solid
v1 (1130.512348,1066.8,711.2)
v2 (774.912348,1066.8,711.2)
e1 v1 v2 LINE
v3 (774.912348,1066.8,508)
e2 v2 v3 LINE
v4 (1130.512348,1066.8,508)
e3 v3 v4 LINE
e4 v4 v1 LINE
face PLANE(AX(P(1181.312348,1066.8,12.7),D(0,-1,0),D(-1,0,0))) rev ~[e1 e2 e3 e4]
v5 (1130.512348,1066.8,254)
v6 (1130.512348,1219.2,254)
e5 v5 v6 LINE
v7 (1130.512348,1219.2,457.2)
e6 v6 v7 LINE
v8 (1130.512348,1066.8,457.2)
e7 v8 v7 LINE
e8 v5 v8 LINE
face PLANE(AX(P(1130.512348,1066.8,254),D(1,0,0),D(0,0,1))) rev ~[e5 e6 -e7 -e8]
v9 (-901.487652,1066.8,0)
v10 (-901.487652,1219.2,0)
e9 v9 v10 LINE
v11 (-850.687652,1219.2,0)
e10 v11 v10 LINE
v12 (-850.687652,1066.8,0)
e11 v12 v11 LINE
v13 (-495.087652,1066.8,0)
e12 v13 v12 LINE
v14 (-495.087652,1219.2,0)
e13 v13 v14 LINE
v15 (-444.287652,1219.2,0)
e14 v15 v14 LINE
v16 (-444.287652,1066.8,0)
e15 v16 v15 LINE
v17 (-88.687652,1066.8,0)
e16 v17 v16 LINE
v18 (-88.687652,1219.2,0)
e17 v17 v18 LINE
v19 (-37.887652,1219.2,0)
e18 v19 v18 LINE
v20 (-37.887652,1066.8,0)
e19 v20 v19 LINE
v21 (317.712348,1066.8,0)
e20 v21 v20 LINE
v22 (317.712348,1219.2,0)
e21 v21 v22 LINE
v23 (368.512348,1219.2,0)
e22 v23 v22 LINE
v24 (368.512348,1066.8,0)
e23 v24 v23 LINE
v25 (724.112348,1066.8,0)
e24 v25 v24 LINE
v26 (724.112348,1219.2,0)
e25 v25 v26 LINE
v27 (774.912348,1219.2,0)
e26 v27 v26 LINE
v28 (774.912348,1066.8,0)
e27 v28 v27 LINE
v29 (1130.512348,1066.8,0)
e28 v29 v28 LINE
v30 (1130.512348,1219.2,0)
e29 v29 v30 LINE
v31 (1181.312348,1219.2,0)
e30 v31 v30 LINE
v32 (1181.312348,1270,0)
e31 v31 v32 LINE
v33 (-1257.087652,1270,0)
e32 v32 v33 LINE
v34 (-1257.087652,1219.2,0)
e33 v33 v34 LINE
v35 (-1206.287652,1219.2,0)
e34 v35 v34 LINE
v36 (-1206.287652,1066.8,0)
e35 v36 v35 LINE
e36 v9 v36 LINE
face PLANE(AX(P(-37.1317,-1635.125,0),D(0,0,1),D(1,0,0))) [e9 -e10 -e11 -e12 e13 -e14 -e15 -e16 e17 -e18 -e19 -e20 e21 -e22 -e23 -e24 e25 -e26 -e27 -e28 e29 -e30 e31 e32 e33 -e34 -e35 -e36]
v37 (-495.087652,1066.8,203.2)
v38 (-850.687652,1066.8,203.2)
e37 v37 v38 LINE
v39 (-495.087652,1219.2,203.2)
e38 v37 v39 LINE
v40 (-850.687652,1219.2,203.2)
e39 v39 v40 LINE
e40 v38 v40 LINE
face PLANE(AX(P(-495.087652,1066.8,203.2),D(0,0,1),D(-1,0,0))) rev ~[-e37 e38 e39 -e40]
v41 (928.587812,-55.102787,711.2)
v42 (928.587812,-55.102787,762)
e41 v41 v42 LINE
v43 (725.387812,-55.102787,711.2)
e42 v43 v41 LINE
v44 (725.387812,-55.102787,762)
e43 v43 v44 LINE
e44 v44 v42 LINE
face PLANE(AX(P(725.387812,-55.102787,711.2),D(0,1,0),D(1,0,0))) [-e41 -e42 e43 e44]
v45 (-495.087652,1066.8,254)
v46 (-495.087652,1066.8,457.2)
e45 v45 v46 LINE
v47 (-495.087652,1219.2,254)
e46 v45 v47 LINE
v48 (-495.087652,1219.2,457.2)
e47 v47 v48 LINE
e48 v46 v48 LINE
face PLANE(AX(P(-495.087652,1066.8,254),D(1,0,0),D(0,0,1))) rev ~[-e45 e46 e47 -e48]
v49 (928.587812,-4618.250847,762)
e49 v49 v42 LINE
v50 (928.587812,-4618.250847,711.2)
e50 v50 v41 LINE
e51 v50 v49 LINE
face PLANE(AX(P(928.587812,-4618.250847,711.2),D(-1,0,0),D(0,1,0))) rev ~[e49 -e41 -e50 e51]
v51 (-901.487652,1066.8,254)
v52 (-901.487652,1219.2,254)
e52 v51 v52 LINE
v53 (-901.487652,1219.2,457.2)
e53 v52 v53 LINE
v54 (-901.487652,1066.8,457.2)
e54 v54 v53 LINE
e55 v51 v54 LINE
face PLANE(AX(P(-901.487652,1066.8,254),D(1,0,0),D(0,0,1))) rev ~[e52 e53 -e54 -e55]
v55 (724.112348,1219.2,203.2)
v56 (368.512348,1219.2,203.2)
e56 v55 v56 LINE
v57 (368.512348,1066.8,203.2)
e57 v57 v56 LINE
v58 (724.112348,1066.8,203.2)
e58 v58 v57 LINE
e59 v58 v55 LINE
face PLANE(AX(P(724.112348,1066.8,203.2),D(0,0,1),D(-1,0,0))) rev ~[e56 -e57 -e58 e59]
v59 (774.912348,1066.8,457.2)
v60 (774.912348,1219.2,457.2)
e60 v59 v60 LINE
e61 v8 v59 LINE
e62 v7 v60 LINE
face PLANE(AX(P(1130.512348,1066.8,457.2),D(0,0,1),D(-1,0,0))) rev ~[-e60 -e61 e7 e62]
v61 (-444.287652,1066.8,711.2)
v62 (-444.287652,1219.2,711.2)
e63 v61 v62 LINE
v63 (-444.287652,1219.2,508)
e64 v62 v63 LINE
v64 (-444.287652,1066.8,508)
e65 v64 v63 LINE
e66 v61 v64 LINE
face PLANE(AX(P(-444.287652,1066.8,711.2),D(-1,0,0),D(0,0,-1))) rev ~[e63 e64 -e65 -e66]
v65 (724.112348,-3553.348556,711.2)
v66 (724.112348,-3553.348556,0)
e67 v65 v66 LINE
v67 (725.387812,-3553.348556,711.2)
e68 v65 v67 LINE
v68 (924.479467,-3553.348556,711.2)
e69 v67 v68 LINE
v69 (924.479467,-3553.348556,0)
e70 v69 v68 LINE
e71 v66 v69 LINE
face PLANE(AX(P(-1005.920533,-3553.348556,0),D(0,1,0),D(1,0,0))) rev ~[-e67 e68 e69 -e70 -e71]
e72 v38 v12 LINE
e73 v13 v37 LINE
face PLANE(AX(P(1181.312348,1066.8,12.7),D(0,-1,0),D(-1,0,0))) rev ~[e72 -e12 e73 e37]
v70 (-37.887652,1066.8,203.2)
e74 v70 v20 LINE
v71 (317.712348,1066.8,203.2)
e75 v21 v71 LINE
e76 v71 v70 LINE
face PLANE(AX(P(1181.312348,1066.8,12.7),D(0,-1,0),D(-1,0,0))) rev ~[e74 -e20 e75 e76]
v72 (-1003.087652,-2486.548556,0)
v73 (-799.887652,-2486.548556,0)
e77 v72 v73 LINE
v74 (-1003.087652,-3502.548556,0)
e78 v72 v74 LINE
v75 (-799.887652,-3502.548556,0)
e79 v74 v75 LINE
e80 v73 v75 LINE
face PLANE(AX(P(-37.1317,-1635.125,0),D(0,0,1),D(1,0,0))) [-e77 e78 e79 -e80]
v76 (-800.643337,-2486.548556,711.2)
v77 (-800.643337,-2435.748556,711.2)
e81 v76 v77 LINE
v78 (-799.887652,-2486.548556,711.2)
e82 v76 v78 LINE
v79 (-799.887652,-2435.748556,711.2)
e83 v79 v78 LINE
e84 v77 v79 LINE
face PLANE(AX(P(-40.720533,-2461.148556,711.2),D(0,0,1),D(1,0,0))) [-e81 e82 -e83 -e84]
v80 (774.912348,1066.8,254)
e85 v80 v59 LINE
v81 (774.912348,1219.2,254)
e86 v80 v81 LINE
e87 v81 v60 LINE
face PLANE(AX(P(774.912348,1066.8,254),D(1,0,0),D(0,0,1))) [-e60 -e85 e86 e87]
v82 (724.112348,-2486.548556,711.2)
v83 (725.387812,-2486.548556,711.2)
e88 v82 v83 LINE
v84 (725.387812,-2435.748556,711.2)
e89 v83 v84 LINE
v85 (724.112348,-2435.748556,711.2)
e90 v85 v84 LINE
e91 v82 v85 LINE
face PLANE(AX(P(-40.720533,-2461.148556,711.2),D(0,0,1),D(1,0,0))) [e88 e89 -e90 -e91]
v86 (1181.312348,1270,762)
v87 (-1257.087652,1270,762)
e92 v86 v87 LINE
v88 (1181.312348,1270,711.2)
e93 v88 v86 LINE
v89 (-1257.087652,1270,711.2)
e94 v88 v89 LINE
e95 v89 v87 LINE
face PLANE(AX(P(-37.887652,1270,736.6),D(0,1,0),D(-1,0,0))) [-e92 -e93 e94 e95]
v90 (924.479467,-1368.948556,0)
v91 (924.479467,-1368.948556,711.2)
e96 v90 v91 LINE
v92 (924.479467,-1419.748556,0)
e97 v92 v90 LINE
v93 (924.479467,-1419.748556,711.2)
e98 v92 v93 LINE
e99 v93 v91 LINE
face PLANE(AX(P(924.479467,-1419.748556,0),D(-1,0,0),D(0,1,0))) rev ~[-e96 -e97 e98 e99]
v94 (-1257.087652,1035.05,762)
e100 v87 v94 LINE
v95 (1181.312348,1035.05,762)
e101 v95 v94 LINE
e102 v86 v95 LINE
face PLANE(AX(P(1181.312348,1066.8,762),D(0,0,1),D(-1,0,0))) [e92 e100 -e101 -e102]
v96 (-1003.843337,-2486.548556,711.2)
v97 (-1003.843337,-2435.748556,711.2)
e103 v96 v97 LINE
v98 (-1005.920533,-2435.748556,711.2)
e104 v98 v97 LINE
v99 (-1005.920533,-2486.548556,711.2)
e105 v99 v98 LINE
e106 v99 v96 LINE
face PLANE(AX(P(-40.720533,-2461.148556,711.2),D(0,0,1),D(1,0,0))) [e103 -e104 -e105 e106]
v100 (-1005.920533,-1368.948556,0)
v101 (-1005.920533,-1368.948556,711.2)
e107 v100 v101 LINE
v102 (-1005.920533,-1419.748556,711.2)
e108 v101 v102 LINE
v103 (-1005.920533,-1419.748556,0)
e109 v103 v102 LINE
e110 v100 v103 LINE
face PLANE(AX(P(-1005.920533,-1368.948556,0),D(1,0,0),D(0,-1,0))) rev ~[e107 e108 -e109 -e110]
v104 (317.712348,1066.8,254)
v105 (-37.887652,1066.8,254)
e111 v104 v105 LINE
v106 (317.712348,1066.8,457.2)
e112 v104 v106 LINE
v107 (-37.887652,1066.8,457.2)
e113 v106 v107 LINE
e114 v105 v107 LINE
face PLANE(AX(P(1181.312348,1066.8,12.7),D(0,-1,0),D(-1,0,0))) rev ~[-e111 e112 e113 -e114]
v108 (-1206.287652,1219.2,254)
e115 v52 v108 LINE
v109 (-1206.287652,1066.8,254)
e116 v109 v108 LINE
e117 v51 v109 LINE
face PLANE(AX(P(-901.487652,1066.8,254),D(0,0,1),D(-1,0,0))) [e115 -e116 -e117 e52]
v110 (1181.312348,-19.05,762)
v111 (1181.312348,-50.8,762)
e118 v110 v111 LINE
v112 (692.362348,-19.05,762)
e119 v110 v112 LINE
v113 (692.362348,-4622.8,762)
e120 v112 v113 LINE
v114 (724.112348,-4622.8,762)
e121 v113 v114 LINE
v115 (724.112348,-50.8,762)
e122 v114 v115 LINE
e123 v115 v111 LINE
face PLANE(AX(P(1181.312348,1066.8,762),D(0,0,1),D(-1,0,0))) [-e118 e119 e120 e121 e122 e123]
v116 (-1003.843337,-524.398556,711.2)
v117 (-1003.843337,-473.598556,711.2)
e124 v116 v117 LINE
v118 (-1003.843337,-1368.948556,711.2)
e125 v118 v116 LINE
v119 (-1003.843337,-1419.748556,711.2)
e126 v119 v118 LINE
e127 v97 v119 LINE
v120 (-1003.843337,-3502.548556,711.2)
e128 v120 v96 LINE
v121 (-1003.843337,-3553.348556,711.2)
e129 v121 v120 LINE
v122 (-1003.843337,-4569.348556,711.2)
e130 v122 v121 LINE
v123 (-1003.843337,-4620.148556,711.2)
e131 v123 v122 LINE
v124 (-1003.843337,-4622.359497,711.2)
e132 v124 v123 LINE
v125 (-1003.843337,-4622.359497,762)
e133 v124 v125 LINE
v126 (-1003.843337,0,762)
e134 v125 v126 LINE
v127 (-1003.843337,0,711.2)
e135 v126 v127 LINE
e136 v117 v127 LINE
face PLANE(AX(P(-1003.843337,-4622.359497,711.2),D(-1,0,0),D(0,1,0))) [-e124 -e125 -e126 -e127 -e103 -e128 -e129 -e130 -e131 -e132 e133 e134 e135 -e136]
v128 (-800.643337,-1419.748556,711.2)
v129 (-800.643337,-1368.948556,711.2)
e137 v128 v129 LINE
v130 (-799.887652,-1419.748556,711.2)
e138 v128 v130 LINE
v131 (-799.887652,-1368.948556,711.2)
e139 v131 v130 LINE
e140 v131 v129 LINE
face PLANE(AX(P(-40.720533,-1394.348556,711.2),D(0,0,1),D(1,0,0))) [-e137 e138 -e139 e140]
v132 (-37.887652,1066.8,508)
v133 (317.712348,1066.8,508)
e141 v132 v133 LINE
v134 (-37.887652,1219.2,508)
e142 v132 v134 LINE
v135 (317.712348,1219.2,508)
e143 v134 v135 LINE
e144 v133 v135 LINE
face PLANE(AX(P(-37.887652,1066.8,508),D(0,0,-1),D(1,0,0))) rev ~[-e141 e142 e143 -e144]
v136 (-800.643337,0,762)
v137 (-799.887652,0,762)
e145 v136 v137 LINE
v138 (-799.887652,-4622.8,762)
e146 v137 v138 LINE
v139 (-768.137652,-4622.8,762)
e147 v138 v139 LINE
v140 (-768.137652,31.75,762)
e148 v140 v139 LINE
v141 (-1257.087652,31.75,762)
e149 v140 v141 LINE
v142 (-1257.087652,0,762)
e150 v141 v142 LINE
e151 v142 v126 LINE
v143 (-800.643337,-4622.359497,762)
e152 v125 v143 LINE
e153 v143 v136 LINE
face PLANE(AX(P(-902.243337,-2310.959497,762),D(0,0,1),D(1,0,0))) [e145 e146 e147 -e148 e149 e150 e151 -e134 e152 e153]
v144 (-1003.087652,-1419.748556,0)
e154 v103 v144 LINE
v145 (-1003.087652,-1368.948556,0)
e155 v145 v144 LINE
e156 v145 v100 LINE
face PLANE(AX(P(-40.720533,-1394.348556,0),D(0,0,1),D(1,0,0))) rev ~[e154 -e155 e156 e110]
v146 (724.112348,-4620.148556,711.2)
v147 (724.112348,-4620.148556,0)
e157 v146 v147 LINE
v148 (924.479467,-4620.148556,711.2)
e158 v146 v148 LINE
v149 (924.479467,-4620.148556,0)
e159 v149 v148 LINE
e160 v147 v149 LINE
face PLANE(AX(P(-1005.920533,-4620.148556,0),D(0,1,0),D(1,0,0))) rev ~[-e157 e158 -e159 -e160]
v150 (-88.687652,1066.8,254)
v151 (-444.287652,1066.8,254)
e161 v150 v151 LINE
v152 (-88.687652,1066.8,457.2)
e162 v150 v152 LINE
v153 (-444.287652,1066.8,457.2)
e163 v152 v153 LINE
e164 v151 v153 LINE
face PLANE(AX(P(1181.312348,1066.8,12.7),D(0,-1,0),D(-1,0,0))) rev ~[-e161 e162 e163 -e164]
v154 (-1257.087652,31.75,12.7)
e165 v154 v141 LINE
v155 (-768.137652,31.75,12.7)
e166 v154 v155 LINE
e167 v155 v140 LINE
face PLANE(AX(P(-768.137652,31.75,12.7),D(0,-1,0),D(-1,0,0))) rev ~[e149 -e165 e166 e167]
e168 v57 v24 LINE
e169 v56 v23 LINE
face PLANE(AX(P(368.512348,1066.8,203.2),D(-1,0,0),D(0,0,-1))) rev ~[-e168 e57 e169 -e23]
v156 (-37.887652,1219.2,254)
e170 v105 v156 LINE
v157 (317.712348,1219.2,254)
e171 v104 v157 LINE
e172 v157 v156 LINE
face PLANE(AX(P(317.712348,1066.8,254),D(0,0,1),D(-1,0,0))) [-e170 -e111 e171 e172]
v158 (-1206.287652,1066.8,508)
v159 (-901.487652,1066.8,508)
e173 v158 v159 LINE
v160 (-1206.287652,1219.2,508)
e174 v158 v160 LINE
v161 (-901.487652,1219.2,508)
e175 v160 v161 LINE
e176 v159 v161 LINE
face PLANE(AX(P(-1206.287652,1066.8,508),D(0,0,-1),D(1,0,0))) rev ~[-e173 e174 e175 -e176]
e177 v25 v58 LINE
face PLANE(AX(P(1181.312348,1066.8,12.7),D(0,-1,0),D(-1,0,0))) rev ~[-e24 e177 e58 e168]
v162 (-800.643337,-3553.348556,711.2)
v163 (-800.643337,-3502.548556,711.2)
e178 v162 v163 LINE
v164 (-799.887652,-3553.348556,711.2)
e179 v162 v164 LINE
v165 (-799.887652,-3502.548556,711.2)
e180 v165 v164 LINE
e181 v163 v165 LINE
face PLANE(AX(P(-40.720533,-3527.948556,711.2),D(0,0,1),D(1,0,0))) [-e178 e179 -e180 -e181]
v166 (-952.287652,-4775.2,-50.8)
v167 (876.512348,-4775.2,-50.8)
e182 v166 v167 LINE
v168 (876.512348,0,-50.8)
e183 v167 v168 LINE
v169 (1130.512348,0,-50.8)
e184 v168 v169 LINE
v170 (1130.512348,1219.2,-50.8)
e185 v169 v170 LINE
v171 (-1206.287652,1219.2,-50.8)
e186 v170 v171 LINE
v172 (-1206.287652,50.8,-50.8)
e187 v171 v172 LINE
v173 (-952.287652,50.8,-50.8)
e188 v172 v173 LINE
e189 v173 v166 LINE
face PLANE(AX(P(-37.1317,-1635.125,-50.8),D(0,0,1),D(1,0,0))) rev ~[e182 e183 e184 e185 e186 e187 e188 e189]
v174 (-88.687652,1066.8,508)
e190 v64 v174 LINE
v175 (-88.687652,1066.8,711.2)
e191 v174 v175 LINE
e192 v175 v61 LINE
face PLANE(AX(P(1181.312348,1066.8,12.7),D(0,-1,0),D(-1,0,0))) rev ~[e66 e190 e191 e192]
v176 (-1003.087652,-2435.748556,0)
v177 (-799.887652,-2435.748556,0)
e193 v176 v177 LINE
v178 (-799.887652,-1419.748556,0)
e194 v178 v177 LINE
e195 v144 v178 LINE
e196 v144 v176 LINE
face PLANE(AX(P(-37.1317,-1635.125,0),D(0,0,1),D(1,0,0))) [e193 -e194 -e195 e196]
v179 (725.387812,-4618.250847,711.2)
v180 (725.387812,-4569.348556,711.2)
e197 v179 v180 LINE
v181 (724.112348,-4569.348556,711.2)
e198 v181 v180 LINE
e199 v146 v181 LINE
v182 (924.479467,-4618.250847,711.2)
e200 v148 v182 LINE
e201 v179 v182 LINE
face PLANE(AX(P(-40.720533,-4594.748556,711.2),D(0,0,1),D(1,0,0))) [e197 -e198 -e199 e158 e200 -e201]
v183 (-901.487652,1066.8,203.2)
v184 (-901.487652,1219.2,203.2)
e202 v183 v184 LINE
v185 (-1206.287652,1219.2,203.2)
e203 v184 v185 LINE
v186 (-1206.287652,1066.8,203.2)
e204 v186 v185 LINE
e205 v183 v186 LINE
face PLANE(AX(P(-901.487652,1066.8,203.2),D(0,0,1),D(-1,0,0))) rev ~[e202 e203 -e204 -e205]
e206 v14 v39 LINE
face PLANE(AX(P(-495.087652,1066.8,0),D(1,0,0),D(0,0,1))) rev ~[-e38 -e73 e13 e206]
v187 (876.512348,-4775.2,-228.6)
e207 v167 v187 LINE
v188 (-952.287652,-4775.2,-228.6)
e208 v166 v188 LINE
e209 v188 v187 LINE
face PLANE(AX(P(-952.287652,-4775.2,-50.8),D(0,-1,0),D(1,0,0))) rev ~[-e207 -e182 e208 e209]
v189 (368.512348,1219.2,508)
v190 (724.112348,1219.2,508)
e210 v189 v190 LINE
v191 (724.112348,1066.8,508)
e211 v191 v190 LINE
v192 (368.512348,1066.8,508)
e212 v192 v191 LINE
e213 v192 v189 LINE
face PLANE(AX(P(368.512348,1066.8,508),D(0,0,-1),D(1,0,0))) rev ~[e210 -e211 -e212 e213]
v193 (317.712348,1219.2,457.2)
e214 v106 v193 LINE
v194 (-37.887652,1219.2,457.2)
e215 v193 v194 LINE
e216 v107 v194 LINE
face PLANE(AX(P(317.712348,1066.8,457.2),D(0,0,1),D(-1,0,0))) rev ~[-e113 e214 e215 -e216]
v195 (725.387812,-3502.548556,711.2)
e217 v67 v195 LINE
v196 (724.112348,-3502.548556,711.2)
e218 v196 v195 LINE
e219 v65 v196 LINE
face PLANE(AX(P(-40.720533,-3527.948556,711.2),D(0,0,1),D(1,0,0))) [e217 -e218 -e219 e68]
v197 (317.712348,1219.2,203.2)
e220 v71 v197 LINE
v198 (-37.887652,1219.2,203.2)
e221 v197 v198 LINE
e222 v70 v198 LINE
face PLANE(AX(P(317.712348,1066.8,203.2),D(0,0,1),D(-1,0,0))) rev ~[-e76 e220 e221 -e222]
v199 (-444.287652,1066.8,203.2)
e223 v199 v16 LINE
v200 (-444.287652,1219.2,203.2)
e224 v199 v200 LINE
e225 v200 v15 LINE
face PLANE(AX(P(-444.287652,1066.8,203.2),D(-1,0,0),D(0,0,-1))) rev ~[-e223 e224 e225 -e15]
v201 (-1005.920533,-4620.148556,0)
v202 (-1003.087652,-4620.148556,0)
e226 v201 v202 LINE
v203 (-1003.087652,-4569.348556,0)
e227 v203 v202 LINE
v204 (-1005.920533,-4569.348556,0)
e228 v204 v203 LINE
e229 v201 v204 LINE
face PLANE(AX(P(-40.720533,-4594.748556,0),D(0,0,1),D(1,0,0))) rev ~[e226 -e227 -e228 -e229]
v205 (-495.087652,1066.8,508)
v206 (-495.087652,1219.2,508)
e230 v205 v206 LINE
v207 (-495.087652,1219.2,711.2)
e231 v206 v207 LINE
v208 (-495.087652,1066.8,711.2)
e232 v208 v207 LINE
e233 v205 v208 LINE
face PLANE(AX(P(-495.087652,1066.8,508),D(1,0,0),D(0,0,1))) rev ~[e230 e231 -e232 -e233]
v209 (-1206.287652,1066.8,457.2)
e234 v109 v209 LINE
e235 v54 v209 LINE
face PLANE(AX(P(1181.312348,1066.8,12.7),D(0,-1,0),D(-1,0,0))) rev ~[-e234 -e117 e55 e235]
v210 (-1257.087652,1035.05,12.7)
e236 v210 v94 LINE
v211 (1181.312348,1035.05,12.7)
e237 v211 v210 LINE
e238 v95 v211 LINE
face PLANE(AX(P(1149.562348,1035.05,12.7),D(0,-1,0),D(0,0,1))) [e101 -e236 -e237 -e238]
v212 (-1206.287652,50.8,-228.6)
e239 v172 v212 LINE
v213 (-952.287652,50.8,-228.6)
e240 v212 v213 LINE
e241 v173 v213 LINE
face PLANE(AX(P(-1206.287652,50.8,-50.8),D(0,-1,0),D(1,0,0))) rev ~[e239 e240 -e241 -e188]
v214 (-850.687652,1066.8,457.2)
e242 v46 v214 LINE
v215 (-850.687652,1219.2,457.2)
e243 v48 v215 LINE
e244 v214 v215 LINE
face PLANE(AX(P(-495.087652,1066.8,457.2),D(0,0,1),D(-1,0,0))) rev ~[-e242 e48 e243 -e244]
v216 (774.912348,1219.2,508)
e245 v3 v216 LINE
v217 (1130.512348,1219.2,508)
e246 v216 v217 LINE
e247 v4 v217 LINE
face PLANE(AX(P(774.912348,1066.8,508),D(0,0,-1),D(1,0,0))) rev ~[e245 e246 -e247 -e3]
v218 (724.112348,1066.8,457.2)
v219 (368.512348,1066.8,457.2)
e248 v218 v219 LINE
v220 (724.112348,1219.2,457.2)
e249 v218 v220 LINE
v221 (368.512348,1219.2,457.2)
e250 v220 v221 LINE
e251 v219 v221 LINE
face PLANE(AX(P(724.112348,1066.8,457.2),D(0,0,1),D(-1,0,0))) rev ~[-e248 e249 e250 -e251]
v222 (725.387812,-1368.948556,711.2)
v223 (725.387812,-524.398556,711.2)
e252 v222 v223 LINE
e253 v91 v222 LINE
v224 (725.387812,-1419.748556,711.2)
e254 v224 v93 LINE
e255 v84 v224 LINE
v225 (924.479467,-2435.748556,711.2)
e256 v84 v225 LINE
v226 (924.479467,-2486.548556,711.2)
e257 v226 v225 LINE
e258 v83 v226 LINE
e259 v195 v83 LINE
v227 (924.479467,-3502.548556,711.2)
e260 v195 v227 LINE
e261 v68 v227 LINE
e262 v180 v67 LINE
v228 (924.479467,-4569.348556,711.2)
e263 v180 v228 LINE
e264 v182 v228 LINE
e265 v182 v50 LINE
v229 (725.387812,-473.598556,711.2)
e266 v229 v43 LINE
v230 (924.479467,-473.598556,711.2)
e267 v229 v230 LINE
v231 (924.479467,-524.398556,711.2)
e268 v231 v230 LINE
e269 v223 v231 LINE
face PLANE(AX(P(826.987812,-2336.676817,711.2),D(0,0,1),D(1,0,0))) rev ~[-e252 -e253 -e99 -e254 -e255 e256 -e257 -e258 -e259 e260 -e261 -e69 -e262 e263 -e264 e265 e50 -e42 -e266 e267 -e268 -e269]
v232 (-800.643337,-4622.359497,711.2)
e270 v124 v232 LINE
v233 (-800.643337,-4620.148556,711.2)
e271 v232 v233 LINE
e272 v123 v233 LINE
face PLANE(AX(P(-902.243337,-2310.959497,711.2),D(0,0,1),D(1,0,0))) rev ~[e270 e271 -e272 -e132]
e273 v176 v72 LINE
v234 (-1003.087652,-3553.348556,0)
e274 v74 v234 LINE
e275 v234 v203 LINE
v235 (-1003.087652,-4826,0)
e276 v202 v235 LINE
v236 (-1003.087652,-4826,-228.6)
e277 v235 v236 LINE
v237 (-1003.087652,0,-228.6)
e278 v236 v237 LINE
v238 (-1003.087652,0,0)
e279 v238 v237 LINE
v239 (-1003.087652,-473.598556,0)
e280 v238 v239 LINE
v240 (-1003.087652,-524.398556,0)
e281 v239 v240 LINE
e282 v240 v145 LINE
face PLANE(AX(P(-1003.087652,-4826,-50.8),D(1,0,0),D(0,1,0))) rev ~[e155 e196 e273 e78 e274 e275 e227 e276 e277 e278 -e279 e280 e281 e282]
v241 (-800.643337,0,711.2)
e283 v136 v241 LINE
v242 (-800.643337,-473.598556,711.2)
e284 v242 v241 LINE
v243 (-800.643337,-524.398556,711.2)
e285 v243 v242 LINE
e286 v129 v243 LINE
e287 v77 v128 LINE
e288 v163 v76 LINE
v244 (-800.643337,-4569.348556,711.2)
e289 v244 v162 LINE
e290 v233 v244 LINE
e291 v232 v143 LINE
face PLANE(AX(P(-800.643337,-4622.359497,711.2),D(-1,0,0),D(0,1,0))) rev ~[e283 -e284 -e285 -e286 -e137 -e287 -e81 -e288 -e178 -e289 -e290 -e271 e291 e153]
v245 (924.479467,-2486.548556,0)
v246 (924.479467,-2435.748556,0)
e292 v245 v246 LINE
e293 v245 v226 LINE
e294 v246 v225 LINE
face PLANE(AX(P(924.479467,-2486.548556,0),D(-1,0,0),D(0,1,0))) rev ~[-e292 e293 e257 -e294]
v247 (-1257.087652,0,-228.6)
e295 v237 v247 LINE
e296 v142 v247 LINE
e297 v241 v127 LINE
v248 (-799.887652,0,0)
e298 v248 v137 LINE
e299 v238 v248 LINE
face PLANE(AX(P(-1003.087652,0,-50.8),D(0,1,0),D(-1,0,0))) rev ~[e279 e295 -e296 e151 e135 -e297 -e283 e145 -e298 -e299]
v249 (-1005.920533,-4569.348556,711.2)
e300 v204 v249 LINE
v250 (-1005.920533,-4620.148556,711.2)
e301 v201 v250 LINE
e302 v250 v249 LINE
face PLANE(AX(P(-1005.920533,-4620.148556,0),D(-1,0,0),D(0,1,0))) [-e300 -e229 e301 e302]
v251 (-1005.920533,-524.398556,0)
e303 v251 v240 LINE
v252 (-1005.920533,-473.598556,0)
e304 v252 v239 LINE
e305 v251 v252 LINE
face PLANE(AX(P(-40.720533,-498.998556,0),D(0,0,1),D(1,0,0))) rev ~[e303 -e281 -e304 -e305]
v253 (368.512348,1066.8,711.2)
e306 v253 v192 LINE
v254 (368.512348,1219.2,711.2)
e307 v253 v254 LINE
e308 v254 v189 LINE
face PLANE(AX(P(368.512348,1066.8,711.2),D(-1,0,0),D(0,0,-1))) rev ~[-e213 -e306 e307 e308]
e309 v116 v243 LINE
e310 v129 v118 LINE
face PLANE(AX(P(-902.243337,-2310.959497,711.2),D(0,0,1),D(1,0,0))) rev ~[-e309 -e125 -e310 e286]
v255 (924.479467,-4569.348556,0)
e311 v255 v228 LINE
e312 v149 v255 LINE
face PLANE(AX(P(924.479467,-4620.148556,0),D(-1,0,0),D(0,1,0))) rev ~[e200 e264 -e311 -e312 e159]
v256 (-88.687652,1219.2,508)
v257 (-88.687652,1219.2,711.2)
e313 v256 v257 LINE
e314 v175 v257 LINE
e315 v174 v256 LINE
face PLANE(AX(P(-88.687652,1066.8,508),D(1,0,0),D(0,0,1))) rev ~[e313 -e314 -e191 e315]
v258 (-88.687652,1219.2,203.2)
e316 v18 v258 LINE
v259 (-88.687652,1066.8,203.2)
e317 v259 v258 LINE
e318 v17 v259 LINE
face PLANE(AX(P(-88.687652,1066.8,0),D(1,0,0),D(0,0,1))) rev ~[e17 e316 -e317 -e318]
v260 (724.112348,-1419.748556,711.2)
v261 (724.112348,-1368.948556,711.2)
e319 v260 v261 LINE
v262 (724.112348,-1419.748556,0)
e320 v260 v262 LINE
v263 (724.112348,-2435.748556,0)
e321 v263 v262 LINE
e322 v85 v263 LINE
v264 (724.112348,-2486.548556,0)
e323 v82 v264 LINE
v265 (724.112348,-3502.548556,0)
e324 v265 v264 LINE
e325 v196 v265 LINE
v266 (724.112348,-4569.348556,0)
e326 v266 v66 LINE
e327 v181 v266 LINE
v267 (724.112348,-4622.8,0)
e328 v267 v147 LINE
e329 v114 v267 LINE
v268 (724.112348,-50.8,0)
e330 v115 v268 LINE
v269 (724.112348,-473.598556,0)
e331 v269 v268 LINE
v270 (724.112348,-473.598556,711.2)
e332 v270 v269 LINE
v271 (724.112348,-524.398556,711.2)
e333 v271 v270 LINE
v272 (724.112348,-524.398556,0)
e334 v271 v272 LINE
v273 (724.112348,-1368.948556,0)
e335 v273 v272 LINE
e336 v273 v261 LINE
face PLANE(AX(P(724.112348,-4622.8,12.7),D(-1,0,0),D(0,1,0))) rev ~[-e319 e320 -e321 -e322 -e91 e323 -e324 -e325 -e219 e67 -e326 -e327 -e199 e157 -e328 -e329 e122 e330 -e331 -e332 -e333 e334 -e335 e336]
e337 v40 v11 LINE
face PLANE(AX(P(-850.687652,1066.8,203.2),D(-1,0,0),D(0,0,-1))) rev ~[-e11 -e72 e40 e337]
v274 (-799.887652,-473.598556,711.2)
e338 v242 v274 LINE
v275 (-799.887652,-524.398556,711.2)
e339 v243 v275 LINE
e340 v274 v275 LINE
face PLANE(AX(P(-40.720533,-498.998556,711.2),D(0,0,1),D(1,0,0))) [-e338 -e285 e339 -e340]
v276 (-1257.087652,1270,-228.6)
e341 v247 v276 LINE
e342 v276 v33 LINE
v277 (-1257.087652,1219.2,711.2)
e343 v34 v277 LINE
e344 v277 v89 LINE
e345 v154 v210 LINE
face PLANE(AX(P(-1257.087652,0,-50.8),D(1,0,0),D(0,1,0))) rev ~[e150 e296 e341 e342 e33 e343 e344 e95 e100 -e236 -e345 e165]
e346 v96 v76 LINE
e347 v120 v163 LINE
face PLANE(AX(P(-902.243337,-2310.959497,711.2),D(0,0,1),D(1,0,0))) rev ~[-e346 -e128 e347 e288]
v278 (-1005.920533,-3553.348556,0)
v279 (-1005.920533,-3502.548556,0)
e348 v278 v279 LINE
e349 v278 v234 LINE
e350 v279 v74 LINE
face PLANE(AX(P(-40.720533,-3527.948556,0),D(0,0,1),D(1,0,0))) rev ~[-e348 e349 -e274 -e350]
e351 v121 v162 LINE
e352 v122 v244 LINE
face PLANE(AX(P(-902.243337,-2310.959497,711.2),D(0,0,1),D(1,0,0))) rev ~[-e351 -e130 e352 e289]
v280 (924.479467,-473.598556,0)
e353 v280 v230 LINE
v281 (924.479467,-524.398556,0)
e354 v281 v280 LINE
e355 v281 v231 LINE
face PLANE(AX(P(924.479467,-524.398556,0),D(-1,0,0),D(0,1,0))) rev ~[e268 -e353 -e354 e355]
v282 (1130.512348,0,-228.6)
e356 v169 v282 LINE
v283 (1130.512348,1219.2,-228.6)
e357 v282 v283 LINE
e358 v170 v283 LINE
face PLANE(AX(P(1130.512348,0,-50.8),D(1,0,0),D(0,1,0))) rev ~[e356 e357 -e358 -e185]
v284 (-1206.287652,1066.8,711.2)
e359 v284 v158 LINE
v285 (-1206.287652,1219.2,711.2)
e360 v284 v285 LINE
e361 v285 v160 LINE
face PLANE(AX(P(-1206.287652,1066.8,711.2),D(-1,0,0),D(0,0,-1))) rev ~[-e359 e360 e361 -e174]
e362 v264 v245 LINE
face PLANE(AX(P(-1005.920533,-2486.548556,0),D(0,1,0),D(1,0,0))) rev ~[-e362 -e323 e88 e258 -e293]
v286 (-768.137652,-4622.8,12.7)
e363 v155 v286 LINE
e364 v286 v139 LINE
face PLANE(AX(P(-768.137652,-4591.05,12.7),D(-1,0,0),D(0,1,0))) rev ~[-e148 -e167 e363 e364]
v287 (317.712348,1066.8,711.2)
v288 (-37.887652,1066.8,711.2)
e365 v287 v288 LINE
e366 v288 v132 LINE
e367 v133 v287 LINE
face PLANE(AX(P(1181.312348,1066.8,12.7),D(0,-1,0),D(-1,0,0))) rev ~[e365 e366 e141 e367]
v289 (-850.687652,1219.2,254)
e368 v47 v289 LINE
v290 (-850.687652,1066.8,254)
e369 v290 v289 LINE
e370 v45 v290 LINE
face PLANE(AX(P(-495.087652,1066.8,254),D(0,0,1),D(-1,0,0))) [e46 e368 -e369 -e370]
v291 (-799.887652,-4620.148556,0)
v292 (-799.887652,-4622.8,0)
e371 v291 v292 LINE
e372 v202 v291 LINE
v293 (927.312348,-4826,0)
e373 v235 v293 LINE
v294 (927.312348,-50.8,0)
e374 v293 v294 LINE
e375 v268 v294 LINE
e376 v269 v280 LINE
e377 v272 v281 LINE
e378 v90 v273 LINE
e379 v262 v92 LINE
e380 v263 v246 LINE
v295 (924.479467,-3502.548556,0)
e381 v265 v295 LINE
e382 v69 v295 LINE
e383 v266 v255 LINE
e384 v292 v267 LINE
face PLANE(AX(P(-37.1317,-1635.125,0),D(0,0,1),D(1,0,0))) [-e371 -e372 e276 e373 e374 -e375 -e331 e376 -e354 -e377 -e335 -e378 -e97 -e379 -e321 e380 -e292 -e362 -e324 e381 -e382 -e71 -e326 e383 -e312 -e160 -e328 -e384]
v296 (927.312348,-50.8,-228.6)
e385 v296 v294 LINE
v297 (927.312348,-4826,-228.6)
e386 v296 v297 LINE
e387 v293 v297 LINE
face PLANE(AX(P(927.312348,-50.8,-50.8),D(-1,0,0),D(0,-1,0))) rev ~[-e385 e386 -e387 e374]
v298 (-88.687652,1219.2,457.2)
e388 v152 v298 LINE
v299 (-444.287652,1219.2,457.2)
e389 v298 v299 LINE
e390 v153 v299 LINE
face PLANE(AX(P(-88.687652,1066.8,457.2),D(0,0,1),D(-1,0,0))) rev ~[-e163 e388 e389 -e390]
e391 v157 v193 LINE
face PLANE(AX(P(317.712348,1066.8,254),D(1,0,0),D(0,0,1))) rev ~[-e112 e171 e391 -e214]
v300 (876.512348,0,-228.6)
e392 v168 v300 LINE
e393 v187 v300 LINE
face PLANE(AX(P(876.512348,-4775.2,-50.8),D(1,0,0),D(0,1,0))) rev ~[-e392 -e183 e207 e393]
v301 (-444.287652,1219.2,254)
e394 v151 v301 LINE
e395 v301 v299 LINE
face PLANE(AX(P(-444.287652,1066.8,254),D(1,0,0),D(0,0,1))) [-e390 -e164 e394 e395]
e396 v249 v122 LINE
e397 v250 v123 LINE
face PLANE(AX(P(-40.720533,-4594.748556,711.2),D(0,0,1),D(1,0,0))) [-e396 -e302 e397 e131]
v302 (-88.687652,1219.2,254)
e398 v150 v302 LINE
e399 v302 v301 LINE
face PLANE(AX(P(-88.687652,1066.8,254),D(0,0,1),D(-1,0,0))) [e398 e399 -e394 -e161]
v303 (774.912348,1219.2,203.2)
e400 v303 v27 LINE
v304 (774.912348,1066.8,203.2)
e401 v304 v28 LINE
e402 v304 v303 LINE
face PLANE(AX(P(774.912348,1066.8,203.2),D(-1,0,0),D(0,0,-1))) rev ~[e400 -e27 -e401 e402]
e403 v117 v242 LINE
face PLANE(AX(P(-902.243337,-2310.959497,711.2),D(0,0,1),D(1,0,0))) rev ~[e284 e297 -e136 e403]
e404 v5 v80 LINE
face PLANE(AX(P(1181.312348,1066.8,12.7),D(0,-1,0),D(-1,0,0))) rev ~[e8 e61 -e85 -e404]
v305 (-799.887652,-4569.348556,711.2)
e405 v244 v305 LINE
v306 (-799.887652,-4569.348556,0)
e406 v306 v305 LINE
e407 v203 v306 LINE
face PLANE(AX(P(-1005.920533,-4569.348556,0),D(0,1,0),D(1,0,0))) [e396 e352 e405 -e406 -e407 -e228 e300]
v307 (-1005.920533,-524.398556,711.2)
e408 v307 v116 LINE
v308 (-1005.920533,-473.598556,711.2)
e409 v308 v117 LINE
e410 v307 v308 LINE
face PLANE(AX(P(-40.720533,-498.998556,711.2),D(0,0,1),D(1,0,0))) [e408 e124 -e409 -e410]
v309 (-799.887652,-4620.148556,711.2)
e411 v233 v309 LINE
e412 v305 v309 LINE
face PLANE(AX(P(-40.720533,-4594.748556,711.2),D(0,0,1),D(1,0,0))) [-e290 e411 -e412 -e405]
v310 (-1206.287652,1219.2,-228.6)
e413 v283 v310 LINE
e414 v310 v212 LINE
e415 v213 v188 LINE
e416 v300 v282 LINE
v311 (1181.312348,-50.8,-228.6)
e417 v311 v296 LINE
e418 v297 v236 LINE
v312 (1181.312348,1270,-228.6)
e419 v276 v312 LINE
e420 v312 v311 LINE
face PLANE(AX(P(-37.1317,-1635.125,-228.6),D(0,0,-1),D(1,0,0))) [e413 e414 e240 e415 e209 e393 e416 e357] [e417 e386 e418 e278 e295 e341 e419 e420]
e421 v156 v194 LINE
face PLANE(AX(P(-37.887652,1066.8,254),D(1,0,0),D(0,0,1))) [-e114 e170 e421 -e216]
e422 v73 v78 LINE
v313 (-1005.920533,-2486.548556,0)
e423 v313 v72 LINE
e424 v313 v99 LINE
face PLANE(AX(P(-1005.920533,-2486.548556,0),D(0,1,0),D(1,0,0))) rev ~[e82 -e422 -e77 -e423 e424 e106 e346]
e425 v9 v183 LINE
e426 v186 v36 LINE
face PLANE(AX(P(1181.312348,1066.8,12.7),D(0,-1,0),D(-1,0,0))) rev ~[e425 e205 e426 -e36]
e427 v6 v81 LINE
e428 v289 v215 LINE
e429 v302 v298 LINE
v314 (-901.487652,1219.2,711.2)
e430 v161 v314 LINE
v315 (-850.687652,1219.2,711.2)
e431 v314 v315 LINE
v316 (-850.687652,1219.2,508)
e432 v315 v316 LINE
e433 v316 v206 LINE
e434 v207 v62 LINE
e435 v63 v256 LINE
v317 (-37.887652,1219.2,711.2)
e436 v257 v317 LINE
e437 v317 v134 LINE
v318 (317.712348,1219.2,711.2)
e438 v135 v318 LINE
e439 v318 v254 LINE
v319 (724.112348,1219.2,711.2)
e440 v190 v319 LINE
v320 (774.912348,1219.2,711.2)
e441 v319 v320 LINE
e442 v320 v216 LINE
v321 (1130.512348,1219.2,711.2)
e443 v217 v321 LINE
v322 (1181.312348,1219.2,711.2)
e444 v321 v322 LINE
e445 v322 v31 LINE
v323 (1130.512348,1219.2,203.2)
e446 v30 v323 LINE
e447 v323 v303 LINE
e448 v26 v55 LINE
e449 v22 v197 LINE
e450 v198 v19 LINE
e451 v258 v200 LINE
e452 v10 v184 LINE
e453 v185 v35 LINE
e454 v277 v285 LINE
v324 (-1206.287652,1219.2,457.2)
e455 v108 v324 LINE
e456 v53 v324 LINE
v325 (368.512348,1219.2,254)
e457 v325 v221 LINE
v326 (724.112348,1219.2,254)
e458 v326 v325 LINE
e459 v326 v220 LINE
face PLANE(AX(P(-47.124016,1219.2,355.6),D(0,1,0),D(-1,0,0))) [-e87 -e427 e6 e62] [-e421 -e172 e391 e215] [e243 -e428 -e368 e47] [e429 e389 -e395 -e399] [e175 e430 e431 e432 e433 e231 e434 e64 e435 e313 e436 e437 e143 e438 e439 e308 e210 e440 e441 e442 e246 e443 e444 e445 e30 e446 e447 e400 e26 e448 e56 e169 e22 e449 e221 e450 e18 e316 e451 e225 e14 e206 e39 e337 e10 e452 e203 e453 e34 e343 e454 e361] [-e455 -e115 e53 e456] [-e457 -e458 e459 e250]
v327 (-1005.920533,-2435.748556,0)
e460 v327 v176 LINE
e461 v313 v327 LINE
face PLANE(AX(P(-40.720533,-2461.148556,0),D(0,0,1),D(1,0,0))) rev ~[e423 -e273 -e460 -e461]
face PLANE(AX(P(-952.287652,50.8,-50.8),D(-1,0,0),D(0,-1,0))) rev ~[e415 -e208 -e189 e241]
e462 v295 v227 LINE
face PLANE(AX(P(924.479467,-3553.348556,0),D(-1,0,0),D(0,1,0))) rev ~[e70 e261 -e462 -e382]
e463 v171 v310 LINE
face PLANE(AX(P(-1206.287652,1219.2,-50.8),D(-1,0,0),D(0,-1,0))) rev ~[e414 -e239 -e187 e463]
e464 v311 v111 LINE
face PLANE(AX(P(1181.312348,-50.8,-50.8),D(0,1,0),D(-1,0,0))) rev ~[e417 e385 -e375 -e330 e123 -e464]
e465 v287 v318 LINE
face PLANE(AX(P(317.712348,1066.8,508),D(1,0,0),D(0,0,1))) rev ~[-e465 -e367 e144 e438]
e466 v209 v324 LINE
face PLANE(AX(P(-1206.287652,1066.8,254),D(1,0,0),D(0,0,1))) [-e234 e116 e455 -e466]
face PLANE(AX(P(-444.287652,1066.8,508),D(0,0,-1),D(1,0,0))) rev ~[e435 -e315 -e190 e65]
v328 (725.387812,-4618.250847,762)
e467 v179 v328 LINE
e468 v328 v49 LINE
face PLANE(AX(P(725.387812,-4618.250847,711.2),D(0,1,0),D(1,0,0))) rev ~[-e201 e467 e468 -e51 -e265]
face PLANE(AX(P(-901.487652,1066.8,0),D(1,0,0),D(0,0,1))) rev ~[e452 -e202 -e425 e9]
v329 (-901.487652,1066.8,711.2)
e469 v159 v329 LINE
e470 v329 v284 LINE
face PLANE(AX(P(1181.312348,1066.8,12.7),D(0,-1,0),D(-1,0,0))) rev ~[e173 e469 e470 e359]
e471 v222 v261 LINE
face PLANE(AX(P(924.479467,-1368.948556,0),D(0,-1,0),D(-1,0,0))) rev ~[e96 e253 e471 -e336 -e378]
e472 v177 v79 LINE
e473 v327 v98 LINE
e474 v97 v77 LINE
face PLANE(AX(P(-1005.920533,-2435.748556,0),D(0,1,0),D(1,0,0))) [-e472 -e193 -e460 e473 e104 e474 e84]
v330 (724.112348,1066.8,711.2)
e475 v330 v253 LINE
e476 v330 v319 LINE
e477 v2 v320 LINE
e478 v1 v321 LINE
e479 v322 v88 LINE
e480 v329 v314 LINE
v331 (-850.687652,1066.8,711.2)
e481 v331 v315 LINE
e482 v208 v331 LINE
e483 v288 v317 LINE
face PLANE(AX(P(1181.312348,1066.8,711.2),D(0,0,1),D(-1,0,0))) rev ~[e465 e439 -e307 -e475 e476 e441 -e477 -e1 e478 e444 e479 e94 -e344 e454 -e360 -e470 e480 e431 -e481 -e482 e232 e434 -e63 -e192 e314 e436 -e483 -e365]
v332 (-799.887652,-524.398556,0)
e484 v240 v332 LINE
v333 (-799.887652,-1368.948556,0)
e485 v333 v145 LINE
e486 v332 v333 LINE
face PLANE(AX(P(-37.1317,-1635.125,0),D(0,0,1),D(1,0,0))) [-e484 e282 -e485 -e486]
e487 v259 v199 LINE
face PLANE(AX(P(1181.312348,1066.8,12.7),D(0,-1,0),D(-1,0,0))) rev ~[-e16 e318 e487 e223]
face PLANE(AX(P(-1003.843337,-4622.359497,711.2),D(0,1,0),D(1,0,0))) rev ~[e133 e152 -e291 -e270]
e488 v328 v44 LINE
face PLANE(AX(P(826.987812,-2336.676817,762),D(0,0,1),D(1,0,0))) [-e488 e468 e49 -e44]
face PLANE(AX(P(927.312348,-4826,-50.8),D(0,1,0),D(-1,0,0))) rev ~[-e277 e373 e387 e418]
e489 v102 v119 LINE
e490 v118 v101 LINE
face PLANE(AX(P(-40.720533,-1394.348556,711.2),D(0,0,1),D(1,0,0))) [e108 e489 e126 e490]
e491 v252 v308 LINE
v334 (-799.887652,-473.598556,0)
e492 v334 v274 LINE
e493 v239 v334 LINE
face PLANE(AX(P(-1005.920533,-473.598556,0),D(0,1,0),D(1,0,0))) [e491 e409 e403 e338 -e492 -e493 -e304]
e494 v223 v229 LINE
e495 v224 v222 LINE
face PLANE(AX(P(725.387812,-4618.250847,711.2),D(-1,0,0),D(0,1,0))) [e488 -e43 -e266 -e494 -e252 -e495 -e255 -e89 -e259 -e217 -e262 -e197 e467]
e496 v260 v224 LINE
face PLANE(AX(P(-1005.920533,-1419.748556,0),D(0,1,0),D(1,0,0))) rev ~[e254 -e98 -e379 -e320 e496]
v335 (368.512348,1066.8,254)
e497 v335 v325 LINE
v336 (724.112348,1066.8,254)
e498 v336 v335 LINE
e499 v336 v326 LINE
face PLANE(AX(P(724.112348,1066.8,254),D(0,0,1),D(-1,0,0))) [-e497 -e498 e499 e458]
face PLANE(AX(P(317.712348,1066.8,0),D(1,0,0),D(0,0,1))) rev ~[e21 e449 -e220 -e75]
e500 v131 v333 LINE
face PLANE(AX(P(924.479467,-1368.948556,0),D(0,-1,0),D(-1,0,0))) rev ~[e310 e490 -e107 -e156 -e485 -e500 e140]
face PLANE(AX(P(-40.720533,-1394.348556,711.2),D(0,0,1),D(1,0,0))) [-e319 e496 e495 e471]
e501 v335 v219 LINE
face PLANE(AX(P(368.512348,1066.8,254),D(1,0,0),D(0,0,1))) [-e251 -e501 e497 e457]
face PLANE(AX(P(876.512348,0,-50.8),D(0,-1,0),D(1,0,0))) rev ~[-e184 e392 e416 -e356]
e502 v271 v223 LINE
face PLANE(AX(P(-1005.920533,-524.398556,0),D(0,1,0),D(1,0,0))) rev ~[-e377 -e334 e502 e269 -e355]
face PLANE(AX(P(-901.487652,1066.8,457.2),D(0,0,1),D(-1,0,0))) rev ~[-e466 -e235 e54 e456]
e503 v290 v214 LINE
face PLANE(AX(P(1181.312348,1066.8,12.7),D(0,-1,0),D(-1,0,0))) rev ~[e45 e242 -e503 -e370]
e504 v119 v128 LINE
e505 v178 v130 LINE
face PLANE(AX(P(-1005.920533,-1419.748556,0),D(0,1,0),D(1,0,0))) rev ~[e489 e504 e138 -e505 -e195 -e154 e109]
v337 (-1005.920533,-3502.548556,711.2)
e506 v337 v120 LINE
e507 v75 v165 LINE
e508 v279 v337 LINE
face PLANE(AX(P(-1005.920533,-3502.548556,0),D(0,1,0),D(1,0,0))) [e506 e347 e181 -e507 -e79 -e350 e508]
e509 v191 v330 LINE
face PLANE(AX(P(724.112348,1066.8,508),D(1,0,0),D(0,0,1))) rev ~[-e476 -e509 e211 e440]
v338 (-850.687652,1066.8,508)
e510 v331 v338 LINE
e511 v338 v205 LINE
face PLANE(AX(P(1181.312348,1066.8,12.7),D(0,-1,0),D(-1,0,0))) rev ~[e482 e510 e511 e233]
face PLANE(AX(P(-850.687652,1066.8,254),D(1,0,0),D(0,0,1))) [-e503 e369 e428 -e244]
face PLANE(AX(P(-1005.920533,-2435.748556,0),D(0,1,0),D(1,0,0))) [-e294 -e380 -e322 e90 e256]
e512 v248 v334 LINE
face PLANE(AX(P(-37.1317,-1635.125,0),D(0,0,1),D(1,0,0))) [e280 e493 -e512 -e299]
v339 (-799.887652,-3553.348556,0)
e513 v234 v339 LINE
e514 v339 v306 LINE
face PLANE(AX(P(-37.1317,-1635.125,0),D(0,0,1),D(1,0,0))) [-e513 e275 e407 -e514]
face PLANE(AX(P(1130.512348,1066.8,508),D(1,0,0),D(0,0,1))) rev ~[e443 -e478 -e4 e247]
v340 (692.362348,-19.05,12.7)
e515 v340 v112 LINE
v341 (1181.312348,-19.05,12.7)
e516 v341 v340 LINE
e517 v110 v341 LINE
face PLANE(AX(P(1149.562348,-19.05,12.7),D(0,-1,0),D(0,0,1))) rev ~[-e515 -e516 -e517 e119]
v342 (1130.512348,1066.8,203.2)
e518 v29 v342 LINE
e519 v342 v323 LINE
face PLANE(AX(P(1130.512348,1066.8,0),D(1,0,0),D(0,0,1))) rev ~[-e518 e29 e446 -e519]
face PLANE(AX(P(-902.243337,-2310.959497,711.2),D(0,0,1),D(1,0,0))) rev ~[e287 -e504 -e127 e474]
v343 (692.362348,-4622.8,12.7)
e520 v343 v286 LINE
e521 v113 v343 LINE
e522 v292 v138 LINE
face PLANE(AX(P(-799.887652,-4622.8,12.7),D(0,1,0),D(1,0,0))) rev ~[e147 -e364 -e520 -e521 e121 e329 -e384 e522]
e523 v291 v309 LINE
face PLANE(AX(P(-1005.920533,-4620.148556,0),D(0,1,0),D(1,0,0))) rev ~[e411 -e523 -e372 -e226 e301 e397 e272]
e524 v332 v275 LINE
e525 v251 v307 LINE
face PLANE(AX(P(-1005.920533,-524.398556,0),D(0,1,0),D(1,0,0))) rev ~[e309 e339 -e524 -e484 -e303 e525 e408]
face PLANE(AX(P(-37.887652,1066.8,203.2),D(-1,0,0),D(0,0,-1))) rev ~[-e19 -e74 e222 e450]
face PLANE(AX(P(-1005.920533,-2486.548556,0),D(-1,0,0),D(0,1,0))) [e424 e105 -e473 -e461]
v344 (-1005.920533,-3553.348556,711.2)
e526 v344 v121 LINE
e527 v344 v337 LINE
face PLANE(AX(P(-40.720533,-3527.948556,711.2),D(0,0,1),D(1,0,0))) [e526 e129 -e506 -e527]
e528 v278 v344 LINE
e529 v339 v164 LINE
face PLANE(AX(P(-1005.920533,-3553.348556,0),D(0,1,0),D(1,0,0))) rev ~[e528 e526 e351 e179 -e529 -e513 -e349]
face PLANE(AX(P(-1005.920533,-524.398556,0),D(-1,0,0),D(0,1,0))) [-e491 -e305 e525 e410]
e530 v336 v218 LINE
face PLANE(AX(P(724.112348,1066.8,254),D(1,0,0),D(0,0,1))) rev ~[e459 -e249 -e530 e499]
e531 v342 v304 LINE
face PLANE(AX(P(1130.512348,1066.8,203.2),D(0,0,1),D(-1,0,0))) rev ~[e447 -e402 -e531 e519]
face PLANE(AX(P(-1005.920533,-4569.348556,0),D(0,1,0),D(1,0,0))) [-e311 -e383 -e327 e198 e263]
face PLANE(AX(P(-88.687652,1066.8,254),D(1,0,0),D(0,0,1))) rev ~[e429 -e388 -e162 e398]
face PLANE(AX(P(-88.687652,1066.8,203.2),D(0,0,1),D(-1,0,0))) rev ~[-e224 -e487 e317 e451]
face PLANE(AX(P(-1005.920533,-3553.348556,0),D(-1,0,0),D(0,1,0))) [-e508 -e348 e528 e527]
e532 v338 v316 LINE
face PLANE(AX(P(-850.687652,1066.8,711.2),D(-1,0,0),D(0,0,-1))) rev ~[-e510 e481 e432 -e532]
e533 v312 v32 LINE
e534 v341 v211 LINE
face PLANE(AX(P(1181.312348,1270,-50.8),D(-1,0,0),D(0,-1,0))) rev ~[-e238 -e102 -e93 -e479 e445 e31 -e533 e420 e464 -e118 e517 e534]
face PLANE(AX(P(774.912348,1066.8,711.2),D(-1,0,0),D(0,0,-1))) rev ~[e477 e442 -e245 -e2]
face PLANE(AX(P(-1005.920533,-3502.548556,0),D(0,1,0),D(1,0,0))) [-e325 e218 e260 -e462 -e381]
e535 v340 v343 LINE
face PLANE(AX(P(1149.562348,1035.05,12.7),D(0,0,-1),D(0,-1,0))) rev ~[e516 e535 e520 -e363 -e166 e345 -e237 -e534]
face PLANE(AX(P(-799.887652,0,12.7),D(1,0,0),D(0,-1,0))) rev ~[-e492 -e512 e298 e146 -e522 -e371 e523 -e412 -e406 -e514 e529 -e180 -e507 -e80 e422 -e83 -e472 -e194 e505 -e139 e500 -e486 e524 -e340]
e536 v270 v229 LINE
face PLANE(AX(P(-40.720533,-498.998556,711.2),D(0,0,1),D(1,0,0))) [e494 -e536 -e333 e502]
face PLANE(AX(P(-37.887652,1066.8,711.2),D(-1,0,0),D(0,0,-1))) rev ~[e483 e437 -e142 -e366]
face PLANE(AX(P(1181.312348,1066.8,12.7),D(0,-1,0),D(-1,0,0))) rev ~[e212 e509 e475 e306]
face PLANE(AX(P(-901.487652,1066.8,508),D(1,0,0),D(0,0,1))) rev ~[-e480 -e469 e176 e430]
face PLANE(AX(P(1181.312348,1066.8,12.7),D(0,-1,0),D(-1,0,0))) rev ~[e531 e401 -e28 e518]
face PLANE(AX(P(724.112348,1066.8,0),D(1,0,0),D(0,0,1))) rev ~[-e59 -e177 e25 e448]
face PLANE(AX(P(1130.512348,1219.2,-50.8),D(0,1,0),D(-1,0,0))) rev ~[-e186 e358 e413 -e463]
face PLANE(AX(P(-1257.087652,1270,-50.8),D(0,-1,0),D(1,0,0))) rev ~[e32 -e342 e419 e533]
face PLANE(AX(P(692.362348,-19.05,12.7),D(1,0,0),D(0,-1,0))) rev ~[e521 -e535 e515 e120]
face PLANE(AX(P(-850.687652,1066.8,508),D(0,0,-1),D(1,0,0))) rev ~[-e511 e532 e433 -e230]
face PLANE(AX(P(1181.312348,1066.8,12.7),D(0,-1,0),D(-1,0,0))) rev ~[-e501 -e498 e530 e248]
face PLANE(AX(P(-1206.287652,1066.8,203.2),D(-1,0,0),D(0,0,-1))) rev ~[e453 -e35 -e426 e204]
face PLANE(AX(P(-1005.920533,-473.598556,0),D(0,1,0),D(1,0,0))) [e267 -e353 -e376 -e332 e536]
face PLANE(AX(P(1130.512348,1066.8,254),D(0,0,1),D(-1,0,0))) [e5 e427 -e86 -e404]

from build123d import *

# Parameters (mm, degrees)
F1_DEPTH  = 12.7
F3_DEPTH  = 749.3
F5_DEPTH  = 50.8
F6_W      = 355.6
F6_H      = 203.2
F6_W_2    = 304.8
F7_DEPTH  = 152.4
F8_W      = 2438.4
F8_H      = 50.8
F9_DEPTH  = 203.2
F10_W     = 1054.1
F10_H     = 749.3
F11_DEPTH = 31.751
F12_W     = 1003.3
F12_H     = 749.3
F13_DEPTH = 31.751
F14_W     = 1460.5
F14_H     = 749.3
F15_DEPTH = 234.951
F16_W     = 1930.4
F16_H     = 50.8
F17_DEPTH = 711.2
F18_W     = 1460.5
F18_H     = 698.5
F19_DEPTH = 4352.402444
F20_W     = 203.2
F20_H     = 4622.8
F20_H_2   = 4563.148059
F21_DEPTH = 50.8
F23_DEPTH = 177.8


with BuildPart() as f1:
    # F0 (on Top) → F1 (new body)
    with BuildSketch(Plane.XY):
        Polygon((-1257.087652, 1066.8), (-1257.087652, 0), (-799.887652, 0), (-799.887652, -4622.8), (724.112348, -4622.8), (724.112348, -50.8), (1181.312348, -50.8), (1181.312348, 1066.8), align=None)
    extrude(amount=F1_DEPTH)

    # F2 (on face) → F3 (join)
    with BuildSketch(Plane.XY.offset(12.7)):
        Polygon((1181.312348, 1066.8), (-1257.087652, 1066.8), (-1257.087652, 0), (-799.887652, 0), (-799.887652, -4622.8), (724.112348, -4622.8), (724.112348, -50.8), (1181.312348, -50.8), align=None)
        Polygon((-768.137652, -4591.05), (-768.137652, 31.75), (-1225.337652, 31.75), (-1225.337652, 1035.05), (1149.562348, 1035.05), (1149.562348, -19.05), (692.362348, -19.05), (692.362348, -4591.05), align=None, mode=Mode.SUBTRACT)
    extrude(amount=F3_DEPTH)

    # F4 (on face) → F5 (join)
    with BuildSketch(Plane.XY):
        Polygon((-1003.087652, -4826), (927.312348, -4826), (927.312348, -50.8), (1181.312348, -50.8), (1181.312348, 1270), (927.312348, 1270), (-1003.087652, 1270), (-1257.087652, 1270), (-1257.087652, 0), (-1003.087652, 0), align=None)
    extrude(amount=-F5_DEPTH)

    # F6 (on face) → F7 (join)
    with BuildSketch(Plane(origin=(0, 1066.8, 0), x_dir=(-1, 0, 0), z_dir=(0, 1, 0))):
        Polygon((-1181.312348, 203.2), (-1181.312348, 0), (-1130.512348, 0), (-1130.512348, 203.2), (-774.912348, 203.2), (-774.912348, 0), (-724.112348, 0), (-724.112348, 203.2), (-368.512348, 203.2), (-368.512348, 0), (-317.712348, 0), (-317.712348, 203.2), (37.887652, 203.2), (37.887652, 0), (88.687652, 0), (88.687652, 203.2), (444.287652, 203.2), (444.287652, 0), (495.087652, 0), (495.087652, 203.2), (850.687652, 203.2), (850.687652, 0), (901.487652, 0), (901.487652, 203.2), (1206.287652, 203.2), (1206.287652, 0), (1257.087652, 0), (1257.087652, 203.2), (1257.087652, 254), (1257.087652, 457.2), (1257.087652, 508), (1257.087652, 711.2), (1206.287652, 711.2), (1206.287652, 508), (901.487652, 508), (901.487652, 711.2), (850.687652, 711.2), (850.687652, 508), (495.087652, 508), (495.087652, 711.2), (444.287652, 711.2), (444.287652, 508), (88.687652, 508), (88.687652, 711.2), (37.887652, 711.2), (37.887652, 508), (-317.712348, 508), (-317.712348, 711.2), (-368.512348, 711.2), (-368.512348, 508), (-724.112348, 508), (-724.112348, 711.2), (-774.912348, 711.2), (-774.912348, 508), (-1130.512348, 508), (-1130.512348, 711.2), (-1181.312348, 711.2), (-1181.312348, 508), (-1181.312348, 457.2), (-1181.312348, 254), align=None)
        with Locations((-952.712348, 355.6)):
            Rectangle(F6_W, F6_H, mode=Mode.SUBTRACT)
        with Locations((-546.312348, 355.6)):
            Rectangle(F6_W, F6_H, mode=Mode.SUBTRACT)
        with Locations((-139.912348, 355.6)):
            Rectangle(F6_W, F6_H, mode=Mode.SUBTRACT)
        with Locations((266.487652, 355.6)):
            Rectangle(F6_W, F6_H, mode=Mode.SUBTRACT)
        with Locations((672.887652, 355.6)):
            Rectangle(F6_W, F6_H, mode=Mode.SUBTRACT)
        with Locations((1053.887652, 355.6)):
            Rectangle(F6_W_2, F6_H, mode=Mode.SUBTRACT)
    extrude(amount=F7_DEPTH)

    # F8 (on face) → F9 (join)
    with BuildSketch(Plane(origin=(0, 1066.8, 0), x_dir=(-1, 0, 0), z_dir=(0, 1, 0))):
        with Locations((37.887652, 736.6)):
            Rectangle(F8_W, F8_H)
    extrude(amount=F9_DEPTH)

    # F10 (on face) → F11 (cut, through all)
    with BuildSketch(Plane(origin=(1149.562348, 0, 0), x_dir=(0, -1, 0), z_dir=(-1, 0, 0))):
        with Locations((-508, 387.35)):
            Rectangle(F10_W, F10_H)
    extrude(amount=-F11_DEPTH, mode=Mode.SUBTRACT)

    # F12 (on face) → F13 (cut, through all)
    with BuildSketch(Plane.YZ.offset(-1225.337652)):
        with Locations((533.4, 387.35)):
            Rectangle(F12_W, F12_H)
    extrude(amount=-F13_DEPTH, mode=Mode.SUBTRACT)

    # F14 (on face) → F15 (cut, through all)
    with BuildSketch(Plane(origin=(0, -4591.05, 0), x_dir=(-1, 0, 0), z_dir=(0, 1, 0))):
        with Locations((37.887652, 387.35)):
            Rectangle(F14_W, F14_H)
    extrude(amount=-F15_DEPTH, mode=Mode.SUBTRACT)

    # F16 (on face) → F17 (join)
    with BuildSketch(Plane.XY):
        with Locations((-40.720533, -4594.748556)):
            Rectangle(F16_W, F16_H)
        with Locations((-40.720533, -3527.948556)):
            Rectangle(F16_W, F16_H)
        Polygon((-1005.920533, -1419.748556), (-103.030887, -1419.748556), (924.479467, -1419.748556), (924.479467, -1368.948556), (-1005.920533, -1368.948556), align=None)
        with Locations((-40.720533, -498.998556)):
            Rectangle(F16_W, F16_H)
        with Locations((-40.720533, -2461.148556)):
            Rectangle(F16_W, F16_H)
    extrude(amount=F17_DEPTH)

    # F18 (on face) → F19 (cut, through all)
    with BuildSketch(Plane(origin=(0, -473.598556, 0), x_dir=(-1, 0, 0), z_dir=(0, 1, 0))):
        with Locations((37.887652, 361.95)):
            Rectangle(F18_W, F18_H)
    extrude(amount=-F19_DEPTH, mode=Mode.SUBTRACT)

    # F20 (on face) → F21 (join, through all)
    with BuildSketch(Plane.XY.offset(711.2)):
        with Locations((-902.243337, -2310.959497)):
            Rectangle(F20_W, F20_H)
        with Locations((826.987812, -2336.676817)):
            Rectangle(F20_W, F20_H_2)
    extrude(amount=F21_DEPTH)

    # F22 (on face) → F23 (join)
    with BuildSketch(Plane(origin=(0, 0, -50.8), x_dir=(1, 0, 0), z_dir=(0, 0, -1))):
        Polygon((927.312348, 50.8), (927.312348, 4826), (-1003.087652, 4826), (-1003.087652, 0), (-1257.087652, 0), (-1257.087652, -1270), (1181.312348, -1270), (1181.312348, 50.8), align=None)
        Polygon((876.512348, 0), (1130.512348, 0), (1130.512348, -1219.2), (-1206.287652, -1219.2), (-1206.287652, -50.8), (-952.287652, -50.8), (-952.287652, 4775.2), (876.512348, 4775.2), align=None, mode=Mode.SUBTRACT)
    extrude(amount=F23_DEPTH)


solid = f1.part
